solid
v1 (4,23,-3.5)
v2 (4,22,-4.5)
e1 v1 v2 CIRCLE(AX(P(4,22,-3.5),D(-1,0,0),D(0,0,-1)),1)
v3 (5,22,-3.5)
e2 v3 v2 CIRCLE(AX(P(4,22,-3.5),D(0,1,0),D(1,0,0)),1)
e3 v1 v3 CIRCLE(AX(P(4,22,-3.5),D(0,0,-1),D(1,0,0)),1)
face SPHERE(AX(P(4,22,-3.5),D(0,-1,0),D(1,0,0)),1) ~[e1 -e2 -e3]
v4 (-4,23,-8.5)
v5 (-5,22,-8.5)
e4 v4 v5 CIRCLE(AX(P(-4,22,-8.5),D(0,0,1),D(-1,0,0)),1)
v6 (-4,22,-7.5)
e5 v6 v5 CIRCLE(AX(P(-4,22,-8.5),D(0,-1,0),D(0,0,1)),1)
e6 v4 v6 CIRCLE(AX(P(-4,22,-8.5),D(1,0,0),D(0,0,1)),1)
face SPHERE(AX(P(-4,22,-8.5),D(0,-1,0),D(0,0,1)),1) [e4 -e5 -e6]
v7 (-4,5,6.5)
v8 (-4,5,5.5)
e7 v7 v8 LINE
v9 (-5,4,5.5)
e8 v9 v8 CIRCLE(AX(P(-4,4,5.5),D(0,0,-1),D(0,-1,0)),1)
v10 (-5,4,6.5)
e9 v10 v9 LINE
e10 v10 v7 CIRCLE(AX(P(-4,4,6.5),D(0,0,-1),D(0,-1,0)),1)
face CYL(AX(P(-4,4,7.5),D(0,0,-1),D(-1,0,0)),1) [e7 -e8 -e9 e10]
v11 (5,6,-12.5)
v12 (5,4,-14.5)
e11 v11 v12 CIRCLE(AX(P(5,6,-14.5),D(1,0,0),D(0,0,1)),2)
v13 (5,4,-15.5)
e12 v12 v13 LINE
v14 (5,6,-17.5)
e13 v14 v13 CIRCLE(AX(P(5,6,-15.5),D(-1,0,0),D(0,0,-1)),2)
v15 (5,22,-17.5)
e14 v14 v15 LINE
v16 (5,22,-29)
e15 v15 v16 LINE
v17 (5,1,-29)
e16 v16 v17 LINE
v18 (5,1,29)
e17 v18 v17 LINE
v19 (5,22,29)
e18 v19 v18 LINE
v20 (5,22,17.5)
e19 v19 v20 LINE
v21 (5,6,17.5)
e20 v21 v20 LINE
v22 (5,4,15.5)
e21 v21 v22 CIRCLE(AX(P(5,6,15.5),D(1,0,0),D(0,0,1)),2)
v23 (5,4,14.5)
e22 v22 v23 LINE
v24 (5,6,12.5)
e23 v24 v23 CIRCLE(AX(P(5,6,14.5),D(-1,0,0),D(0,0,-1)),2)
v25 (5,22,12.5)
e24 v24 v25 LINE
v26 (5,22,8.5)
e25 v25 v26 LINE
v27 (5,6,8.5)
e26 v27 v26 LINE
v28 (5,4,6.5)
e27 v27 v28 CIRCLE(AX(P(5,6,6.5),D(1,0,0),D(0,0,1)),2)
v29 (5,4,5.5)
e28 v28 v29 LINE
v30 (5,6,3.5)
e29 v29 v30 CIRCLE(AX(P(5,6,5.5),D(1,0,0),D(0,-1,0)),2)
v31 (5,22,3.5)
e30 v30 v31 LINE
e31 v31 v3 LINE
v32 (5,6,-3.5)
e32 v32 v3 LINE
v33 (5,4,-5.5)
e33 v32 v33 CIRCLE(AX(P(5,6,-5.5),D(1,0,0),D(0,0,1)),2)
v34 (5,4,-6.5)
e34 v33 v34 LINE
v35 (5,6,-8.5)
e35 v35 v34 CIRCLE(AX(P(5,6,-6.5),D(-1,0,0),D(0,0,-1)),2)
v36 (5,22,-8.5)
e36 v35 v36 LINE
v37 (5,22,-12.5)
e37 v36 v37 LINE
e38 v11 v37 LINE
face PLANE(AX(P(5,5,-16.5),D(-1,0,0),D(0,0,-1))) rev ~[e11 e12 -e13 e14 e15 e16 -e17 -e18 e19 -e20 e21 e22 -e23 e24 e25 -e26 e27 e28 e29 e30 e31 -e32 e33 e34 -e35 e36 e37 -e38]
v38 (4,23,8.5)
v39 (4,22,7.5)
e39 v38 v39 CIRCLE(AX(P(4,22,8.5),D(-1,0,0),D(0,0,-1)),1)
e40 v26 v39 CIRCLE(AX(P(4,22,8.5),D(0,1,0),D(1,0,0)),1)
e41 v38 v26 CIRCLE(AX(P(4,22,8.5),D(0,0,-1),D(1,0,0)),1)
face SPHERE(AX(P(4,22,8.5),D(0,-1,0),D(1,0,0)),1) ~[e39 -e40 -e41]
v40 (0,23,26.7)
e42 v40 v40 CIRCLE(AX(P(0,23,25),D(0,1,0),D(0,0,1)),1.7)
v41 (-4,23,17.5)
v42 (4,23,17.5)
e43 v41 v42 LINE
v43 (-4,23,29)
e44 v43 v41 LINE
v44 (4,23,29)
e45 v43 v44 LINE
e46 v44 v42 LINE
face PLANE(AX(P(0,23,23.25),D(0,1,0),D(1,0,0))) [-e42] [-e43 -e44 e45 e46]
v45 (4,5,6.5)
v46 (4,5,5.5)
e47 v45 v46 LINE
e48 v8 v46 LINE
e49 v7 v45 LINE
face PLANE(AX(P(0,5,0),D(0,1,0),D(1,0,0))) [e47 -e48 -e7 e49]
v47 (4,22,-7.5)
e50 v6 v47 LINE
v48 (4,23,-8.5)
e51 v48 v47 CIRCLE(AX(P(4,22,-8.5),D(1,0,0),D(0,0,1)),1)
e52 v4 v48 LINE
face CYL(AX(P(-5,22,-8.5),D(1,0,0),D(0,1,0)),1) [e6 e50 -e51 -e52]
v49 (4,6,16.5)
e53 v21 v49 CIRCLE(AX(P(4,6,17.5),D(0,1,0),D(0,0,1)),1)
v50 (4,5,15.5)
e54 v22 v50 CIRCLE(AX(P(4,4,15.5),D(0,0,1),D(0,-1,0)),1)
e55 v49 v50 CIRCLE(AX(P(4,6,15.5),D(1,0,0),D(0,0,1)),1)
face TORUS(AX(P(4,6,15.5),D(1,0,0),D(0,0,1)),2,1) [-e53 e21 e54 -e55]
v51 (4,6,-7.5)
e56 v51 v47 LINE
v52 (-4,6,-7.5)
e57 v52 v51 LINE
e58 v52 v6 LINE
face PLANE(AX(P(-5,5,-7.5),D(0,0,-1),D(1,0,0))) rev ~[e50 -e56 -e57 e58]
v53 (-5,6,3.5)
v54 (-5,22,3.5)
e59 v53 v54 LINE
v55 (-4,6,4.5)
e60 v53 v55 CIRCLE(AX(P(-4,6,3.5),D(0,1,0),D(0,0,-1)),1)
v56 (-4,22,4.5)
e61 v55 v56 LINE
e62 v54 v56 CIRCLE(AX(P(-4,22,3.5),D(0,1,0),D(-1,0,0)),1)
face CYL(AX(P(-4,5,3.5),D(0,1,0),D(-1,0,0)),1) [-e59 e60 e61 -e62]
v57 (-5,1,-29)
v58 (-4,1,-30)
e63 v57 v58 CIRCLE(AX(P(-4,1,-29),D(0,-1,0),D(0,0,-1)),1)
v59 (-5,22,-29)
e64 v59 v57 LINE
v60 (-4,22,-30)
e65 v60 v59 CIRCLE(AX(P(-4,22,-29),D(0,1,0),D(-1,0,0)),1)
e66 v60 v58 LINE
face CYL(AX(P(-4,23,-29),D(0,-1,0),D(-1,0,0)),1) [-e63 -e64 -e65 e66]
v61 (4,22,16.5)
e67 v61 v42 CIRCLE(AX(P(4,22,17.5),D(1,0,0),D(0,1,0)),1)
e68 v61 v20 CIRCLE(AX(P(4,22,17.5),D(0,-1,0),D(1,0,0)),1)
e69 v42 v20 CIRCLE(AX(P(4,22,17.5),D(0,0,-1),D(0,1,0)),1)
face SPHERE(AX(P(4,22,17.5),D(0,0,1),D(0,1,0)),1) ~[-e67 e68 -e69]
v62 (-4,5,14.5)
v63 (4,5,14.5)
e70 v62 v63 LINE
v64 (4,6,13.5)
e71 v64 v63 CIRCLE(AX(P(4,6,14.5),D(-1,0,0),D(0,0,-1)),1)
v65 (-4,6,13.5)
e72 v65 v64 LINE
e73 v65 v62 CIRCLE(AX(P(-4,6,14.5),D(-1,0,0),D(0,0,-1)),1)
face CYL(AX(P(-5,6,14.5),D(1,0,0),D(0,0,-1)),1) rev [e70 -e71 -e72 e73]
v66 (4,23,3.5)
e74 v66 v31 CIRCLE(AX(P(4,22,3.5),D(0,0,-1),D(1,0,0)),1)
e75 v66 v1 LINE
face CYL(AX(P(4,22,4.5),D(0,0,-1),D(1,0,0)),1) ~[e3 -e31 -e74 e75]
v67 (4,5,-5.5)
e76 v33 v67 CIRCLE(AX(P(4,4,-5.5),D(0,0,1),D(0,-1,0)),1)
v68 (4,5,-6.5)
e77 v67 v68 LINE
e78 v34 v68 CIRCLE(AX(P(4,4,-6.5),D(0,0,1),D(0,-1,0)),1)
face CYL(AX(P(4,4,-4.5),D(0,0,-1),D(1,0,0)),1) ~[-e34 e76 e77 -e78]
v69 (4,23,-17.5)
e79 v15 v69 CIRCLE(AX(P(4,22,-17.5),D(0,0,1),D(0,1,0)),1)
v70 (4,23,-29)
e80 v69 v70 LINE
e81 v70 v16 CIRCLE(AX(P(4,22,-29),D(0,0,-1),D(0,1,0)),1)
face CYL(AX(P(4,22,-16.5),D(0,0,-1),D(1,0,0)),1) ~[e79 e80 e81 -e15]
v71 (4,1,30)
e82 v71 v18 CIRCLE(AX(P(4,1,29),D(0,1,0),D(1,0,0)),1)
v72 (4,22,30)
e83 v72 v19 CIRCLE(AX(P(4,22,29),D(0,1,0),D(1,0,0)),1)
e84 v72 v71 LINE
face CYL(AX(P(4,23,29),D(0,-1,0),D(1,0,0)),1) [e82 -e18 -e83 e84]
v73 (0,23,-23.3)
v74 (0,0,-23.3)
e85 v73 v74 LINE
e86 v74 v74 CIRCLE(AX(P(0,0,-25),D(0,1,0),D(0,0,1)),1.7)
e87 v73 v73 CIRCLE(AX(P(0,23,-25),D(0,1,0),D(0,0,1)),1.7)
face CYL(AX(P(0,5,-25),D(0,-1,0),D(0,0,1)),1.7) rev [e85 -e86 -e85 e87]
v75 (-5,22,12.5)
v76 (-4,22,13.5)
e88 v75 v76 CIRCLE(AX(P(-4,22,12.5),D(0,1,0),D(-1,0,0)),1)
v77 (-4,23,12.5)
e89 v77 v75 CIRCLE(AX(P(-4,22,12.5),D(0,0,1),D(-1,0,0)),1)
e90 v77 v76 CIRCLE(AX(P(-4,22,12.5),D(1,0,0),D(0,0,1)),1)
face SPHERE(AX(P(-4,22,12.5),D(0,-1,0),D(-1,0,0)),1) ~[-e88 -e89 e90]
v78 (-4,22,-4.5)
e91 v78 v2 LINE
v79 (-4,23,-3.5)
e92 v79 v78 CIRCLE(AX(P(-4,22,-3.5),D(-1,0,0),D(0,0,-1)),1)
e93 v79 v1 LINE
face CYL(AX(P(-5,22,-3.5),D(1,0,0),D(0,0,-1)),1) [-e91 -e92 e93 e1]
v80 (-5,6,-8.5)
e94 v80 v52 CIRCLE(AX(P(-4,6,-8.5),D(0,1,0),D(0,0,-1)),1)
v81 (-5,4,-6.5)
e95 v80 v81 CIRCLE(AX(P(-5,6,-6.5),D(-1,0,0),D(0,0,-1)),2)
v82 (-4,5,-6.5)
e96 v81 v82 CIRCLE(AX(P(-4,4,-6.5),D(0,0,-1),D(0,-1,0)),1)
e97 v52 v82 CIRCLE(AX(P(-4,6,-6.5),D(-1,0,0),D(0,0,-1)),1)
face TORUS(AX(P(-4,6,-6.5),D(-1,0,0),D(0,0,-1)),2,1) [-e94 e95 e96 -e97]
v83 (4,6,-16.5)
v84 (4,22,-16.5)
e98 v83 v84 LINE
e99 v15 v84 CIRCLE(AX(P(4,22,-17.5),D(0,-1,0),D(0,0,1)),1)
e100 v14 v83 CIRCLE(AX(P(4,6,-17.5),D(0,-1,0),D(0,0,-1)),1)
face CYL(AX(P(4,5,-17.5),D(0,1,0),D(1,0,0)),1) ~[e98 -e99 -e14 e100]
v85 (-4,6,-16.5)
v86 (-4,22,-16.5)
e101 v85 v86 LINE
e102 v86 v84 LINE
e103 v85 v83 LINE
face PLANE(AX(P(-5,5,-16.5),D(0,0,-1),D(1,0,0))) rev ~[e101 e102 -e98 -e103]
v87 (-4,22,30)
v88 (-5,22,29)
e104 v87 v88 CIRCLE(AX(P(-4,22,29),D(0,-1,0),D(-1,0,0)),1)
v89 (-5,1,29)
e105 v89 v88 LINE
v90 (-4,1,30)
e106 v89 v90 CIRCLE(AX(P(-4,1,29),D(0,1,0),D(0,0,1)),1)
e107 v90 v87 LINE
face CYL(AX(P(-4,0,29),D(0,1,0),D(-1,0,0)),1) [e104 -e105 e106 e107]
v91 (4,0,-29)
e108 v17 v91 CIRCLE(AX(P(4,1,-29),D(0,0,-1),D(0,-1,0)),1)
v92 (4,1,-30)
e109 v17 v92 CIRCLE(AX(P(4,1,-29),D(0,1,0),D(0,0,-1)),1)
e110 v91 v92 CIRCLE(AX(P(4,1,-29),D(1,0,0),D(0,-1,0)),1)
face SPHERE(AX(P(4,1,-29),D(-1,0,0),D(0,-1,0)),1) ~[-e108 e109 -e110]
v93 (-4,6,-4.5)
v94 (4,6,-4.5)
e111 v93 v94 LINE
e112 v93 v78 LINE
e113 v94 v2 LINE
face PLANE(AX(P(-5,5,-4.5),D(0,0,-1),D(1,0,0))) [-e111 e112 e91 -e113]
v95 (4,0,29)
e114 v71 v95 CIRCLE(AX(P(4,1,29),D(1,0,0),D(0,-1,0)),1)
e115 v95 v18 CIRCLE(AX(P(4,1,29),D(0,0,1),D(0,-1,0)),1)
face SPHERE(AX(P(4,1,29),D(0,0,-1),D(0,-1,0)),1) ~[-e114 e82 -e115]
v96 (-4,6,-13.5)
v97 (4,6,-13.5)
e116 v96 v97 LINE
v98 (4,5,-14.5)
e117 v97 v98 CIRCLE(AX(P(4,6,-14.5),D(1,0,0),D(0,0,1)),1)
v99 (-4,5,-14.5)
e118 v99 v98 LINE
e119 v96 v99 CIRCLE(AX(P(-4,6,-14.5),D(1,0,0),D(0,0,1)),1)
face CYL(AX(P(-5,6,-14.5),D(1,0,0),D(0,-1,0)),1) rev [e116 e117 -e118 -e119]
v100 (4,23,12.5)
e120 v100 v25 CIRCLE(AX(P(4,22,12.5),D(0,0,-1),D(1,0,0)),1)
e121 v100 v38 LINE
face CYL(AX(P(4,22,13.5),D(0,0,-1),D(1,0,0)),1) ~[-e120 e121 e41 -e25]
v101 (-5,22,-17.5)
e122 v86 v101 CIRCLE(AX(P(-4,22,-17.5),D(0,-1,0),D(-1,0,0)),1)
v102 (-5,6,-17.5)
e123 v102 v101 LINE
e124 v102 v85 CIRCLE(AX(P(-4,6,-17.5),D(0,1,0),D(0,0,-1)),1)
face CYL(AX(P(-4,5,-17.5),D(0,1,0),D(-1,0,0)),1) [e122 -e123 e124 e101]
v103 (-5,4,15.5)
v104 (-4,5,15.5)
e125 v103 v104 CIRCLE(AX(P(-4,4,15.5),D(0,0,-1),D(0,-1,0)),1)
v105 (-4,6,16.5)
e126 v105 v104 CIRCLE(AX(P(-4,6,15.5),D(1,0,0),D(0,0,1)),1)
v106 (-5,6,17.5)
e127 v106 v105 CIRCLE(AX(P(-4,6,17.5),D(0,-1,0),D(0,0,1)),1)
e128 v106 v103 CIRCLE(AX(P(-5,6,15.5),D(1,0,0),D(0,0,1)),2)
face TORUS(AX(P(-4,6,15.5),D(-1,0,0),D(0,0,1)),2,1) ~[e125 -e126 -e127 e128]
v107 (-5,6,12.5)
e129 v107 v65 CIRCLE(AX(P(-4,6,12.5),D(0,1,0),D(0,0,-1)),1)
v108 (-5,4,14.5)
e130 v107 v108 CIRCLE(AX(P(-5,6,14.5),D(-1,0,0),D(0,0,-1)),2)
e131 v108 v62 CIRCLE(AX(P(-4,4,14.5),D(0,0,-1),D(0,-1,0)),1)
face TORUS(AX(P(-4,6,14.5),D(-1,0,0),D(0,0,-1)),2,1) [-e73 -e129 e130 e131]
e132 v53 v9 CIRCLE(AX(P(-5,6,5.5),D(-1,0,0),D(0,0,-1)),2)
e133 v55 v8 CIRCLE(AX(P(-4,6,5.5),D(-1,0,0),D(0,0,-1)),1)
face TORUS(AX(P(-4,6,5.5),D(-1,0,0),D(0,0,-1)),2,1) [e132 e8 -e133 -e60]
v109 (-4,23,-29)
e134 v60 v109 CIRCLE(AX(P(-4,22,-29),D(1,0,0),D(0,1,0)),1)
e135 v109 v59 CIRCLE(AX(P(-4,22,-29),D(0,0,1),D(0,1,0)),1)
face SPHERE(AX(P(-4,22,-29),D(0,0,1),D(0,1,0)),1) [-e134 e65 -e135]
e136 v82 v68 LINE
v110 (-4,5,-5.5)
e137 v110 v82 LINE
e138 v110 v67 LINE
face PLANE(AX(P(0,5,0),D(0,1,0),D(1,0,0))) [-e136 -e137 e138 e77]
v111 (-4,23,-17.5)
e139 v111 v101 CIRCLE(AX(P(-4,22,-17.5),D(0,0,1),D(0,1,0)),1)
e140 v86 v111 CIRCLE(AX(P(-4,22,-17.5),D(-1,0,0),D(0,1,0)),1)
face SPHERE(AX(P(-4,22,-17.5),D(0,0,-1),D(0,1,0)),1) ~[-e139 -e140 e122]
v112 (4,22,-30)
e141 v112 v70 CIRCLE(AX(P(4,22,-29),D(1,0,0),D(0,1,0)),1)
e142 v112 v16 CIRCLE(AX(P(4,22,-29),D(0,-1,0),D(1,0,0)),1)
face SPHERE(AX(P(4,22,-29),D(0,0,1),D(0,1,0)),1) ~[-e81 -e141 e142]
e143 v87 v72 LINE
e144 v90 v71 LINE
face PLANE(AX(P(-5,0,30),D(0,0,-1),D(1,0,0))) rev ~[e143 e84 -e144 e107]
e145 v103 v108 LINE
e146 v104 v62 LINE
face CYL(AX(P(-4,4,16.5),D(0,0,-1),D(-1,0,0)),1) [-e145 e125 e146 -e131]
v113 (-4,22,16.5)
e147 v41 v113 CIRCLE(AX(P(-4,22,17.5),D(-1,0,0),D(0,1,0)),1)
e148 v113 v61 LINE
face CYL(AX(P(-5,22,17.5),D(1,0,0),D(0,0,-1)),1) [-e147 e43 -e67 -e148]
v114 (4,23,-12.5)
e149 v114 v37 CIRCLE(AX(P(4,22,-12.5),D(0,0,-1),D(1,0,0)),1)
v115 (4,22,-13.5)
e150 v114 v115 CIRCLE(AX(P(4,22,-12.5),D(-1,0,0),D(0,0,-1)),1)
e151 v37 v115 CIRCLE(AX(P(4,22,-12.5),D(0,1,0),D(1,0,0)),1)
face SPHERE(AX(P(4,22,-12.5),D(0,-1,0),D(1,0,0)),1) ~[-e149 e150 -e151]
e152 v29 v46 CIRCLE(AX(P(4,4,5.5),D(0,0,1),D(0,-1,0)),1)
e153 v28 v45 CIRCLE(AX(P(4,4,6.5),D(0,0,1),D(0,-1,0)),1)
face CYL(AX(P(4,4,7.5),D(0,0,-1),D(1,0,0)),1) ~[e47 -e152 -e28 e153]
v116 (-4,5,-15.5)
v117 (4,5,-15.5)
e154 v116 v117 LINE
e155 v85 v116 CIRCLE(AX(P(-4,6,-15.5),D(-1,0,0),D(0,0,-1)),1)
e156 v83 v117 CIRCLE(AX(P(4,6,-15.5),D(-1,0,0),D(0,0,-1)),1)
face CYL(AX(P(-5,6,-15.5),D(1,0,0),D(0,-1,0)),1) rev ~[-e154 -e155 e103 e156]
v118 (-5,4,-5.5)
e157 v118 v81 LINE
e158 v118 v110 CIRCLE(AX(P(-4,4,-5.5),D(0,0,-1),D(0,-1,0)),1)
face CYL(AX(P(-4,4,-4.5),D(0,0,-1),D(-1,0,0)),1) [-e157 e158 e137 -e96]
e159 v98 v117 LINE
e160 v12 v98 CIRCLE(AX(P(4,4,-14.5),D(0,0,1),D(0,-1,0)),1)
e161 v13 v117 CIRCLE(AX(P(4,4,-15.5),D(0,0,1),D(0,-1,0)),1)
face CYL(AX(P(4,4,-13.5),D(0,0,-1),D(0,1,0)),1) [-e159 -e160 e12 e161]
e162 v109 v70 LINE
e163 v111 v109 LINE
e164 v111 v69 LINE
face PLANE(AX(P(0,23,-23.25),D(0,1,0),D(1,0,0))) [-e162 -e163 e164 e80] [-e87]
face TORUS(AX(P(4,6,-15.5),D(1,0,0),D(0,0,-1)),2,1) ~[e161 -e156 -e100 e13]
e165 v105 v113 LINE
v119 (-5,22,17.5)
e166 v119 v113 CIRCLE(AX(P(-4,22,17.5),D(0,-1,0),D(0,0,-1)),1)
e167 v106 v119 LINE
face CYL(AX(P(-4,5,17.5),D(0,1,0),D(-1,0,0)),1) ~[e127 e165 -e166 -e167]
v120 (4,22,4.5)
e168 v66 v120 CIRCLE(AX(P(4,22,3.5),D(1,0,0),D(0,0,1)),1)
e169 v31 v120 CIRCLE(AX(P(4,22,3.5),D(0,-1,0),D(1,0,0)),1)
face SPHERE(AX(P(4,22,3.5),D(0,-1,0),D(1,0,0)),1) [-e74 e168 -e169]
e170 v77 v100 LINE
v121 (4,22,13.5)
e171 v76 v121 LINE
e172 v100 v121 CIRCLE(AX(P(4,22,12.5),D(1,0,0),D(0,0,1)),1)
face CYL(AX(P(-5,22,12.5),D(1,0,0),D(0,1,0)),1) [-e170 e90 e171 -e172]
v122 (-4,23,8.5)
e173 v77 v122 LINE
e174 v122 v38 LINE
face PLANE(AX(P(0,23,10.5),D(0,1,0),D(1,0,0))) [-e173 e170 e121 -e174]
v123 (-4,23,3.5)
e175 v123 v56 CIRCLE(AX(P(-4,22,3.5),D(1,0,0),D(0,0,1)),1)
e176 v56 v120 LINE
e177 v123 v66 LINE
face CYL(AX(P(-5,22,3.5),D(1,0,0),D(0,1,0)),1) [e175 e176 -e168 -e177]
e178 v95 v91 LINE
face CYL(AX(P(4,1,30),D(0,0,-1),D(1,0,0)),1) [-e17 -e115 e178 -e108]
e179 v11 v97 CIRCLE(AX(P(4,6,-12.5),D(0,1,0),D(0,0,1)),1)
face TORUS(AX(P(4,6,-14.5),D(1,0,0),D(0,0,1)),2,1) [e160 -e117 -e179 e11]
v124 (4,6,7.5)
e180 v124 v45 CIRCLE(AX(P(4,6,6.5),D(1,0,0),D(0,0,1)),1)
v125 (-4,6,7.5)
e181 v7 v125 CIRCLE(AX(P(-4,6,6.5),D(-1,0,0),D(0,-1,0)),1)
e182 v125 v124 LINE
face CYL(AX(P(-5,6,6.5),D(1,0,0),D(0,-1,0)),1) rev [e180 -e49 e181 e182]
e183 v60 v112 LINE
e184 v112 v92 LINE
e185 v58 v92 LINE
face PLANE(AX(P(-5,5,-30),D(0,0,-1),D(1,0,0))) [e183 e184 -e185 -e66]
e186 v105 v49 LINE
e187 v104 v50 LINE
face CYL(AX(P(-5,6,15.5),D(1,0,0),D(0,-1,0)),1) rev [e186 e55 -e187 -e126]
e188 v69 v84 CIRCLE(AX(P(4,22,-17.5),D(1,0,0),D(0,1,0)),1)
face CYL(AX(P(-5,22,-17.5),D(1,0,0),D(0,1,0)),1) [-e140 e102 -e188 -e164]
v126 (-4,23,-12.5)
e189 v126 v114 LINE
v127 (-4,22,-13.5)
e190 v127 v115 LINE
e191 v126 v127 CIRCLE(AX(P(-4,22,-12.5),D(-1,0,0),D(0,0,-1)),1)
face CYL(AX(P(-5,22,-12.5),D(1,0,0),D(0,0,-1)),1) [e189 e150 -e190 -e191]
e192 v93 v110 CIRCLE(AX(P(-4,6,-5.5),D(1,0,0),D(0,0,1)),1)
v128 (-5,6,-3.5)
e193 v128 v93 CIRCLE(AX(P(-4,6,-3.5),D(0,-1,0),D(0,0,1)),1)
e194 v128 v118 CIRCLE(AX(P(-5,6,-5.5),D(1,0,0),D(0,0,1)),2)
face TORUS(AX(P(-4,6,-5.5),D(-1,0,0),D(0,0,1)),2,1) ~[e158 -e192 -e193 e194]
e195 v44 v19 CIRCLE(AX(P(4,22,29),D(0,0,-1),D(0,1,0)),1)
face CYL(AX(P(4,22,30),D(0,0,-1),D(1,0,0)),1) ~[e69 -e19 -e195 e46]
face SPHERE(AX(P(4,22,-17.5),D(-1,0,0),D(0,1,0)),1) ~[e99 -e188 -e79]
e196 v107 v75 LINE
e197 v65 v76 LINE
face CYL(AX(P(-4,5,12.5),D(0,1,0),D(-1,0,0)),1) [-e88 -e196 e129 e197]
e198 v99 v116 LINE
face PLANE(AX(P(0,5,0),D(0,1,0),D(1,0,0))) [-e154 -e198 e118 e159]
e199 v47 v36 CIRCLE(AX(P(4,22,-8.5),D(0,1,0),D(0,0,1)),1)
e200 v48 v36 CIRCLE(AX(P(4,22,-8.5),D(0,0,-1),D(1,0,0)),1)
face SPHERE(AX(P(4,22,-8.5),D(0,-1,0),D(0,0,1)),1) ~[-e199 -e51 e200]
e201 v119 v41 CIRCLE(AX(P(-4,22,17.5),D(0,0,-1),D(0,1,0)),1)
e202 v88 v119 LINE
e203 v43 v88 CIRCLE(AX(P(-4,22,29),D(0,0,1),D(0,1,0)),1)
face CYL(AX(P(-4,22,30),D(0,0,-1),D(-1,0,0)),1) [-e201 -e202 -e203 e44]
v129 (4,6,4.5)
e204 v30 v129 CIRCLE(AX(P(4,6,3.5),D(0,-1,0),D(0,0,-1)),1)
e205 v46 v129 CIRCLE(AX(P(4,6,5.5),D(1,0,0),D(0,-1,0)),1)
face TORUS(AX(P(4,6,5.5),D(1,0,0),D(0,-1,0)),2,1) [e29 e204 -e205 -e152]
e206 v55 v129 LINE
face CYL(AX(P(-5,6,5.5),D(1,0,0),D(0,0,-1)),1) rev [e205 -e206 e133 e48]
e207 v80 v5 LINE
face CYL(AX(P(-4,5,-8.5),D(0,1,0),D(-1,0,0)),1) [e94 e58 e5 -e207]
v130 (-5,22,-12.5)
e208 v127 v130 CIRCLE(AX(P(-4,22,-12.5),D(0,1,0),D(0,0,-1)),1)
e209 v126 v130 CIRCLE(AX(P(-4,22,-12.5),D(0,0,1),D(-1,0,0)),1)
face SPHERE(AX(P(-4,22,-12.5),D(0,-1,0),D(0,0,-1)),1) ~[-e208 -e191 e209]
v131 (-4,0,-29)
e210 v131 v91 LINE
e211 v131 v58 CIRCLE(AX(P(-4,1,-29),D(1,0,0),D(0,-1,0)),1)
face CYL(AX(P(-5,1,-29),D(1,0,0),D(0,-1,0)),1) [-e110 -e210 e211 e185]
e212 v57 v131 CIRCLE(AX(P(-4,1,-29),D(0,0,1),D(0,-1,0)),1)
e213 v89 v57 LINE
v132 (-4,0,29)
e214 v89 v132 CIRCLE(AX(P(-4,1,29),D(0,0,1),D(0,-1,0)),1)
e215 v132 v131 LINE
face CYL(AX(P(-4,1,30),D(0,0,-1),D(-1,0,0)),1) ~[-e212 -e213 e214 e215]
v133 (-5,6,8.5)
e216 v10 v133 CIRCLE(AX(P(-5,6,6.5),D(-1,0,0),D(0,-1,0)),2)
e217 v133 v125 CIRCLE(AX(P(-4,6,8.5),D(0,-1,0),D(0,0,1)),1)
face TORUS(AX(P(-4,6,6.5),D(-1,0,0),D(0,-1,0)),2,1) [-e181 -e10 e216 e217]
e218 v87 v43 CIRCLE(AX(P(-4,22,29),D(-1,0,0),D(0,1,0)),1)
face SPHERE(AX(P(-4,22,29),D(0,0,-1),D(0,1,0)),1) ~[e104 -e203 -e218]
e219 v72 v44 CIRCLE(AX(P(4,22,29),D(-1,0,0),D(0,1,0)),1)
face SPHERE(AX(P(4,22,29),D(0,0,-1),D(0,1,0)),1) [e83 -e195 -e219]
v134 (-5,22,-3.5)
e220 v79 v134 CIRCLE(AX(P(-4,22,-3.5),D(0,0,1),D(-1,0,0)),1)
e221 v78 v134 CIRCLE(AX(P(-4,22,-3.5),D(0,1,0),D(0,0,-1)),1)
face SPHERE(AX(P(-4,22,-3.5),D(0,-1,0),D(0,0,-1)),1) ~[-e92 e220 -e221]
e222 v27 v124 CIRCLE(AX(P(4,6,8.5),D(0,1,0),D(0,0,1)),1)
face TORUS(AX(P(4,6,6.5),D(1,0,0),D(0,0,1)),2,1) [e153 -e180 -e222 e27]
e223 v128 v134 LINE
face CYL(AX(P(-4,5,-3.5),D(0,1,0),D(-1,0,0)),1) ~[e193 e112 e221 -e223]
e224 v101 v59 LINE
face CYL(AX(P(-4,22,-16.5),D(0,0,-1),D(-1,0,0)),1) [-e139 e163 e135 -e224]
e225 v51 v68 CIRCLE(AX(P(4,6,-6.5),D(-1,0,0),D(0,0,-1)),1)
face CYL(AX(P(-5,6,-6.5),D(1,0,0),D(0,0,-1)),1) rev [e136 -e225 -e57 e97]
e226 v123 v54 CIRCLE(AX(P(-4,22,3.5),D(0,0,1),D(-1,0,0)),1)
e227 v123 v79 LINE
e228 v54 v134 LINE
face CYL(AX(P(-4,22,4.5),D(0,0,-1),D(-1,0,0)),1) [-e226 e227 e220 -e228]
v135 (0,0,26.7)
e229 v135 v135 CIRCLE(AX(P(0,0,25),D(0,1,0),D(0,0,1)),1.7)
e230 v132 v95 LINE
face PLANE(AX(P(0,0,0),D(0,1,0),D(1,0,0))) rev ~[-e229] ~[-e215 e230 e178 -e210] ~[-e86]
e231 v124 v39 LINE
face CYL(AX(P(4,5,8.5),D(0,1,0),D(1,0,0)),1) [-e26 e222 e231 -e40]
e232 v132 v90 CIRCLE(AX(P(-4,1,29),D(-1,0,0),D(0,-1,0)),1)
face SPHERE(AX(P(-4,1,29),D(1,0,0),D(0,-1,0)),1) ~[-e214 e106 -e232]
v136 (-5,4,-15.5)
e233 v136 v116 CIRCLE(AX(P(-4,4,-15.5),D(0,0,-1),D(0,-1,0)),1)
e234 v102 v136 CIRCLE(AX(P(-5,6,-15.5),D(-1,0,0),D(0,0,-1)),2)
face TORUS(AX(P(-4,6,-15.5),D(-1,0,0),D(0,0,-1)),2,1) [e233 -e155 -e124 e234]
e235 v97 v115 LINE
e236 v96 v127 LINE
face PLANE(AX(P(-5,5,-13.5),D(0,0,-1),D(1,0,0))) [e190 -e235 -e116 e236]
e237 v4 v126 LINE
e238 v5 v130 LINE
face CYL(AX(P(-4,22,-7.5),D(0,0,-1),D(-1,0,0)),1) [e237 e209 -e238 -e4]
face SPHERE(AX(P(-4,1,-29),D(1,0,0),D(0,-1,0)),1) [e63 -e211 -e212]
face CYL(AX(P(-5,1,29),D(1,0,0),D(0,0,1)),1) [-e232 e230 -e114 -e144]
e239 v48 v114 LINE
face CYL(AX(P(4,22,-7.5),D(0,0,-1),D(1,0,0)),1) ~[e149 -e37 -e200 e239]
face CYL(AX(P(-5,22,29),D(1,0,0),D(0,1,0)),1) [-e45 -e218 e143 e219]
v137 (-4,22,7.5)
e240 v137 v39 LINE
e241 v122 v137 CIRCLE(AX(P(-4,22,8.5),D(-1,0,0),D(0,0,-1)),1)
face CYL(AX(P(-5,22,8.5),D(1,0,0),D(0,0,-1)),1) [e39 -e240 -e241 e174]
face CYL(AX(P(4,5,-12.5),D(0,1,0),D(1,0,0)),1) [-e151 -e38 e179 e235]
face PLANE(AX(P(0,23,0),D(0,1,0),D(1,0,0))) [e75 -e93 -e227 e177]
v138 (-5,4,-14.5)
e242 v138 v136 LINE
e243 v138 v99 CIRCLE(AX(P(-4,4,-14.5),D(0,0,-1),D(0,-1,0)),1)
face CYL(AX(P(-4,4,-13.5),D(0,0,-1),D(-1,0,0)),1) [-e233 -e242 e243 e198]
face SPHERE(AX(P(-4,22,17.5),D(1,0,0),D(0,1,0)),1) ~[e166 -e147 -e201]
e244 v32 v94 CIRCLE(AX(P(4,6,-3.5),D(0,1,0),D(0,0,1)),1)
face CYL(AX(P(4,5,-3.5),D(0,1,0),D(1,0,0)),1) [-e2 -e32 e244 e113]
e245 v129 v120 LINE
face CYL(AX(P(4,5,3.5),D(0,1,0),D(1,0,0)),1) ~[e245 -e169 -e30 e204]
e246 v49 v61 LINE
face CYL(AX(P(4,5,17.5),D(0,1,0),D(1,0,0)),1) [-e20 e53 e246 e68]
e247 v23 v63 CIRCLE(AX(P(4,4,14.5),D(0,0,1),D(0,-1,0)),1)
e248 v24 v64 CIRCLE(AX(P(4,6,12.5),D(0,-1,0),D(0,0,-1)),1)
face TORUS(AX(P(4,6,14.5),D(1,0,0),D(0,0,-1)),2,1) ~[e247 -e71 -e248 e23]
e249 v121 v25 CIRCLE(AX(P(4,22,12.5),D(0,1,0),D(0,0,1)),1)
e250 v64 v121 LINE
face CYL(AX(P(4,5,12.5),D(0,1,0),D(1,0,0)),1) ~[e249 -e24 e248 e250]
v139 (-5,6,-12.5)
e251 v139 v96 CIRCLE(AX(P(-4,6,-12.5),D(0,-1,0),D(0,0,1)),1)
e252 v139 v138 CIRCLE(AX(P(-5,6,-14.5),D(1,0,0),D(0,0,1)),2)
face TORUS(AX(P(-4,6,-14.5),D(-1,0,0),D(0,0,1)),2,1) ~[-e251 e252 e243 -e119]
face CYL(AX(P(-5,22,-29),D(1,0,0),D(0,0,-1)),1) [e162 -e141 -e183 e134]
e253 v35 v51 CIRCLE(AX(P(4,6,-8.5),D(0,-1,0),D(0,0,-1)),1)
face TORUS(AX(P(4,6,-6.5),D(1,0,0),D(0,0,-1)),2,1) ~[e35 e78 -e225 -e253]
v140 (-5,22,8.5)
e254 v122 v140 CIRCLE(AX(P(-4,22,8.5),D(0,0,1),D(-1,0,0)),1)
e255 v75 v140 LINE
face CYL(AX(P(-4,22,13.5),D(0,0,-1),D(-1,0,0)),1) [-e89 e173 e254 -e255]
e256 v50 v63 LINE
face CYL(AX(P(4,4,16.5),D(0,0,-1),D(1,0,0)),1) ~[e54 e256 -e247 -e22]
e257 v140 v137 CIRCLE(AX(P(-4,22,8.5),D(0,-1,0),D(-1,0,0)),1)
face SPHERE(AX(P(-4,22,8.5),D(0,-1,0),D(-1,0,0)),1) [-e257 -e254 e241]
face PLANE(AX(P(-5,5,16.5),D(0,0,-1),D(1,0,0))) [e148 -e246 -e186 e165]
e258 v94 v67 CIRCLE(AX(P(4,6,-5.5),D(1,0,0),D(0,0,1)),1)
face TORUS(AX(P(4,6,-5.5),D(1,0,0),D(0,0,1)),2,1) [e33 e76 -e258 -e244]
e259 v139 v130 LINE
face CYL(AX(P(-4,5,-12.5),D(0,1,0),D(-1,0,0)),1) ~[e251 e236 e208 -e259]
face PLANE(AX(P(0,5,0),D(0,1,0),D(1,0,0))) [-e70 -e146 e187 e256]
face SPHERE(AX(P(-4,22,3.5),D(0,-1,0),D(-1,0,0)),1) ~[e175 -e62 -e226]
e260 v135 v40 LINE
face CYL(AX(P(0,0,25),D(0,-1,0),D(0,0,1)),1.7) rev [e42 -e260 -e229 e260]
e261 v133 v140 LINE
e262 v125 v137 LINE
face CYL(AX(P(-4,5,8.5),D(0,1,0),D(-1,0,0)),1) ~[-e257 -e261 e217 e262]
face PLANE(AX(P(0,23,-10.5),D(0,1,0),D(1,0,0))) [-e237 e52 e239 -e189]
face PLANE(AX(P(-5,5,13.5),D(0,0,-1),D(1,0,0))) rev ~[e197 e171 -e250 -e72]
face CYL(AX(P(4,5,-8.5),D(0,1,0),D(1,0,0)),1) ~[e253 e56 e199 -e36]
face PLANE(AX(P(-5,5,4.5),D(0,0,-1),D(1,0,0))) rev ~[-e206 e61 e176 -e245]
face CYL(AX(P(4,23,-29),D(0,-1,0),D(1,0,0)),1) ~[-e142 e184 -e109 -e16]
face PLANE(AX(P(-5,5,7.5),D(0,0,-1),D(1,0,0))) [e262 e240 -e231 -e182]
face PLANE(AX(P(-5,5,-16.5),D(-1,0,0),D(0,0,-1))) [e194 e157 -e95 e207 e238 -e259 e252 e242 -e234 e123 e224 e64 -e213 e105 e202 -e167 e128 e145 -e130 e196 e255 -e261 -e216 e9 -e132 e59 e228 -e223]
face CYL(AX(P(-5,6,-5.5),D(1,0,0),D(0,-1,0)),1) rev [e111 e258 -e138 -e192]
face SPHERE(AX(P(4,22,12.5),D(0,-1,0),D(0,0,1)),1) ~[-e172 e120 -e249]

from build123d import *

# Parameters (mm, degrees)
SKETCH1_W           = 10
SKETCH1_H           = 60
SKETCH1_R           = 1.7
BOSS_EXTRUDE1_DEPTH = 5
SKETCH2_W           = 10
SKETCH2_H           = 6
SKETCH2_H_2         = 9
SKETCH2_H_3         = 13.5
SKETCH2_R           = 1.7
BOSS_EXTRUDE2_DEPTH = 18
FILLET1_R           = 1


with BuildPart() as part:
    # Sketch1 → Boss-Extrude1 (new body)
    with BuildSketch(Plane(origin=(0, 0, 0), x_dir=(1, 0, 0), z_dir=(0, 1, 0))):
        Rectangle(SKETCH1_W, SKETCH1_H)
        with Locations(Location((0, 25, 0), (0, 0, 270))):
            Circle(SKETCH1_R, mode=Mode.SUBTRACT)
        with Locations(Location((0, -25, 0), (0, 0, 270))):
            Circle(SKETCH1_R, mode=Mode.SUBTRACT)
    extrude(amount=BOSS_EXTRUDE1_DEPTH)

    # Sketch2 → Boss-Extrude2 (add)
    # profile 1 of 5: a face of its own
    with BuildSketch(Plane(origin=(0, 5, 0), x_dir=(1, 0, 0), z_dir=(0, 1, 0))):
        with Locations((0, 10.5)):
            Rectangle(SKETCH2_W, SKETCH2_H)
    # profile 2 of 5: a face of its own
    with BuildSketch(Plane(origin=(0, 5, 0), x_dir=(1, 0, 0), z_dir=(0, 1, 0))):
        Rectangle(SKETCH2_W, SKETCH2_H_2)
    # profile 3 of 5: a face of its own
    with BuildSketch(Plane(origin=(0, 5, 0), x_dir=(1, 0, 0), z_dir=(0, 1, 0))):
        with Locations((0, 23.25)):
            Rectangle(SKETCH2_W, SKETCH2_H_3)
        with Locations(Location((0, 25, 0), (0, 0, 270))):
            Circle(SKETCH2_R, mode=Mode.SUBTRACT)
    # profile 4 of 5: a face of its own
    with BuildSketch(Plane(origin=(0, 5, 0), x_dir=(1, 0, 0), z_dir=(0, 1, 0))):
        with Locations((0, -23.25)):
            Rectangle(SKETCH2_W, SKETCH2_H_3)
        with Locations(Location((0, -25, 0), (0, 0, 270))):
            Circle(SKETCH2_R, mode=Mode.SUBTRACT)
    # profile 5 of 5: a face of its own
    with BuildSketch(Plane(origin=(0, 5, 0), x_dir=(1, 0, 0), z_dir=(0, 1, 0))):
        with Locations((0, -10.5)):
            Rectangle(SKETCH2_W, SKETCH2_H)
    extrude(amount=BOSS_EXTRUDE2_DEPTH)

    # Fillet1
    fillet1_edges = [part.edges().sort_by_distance(p)[0] for p in [
        (-5, 5, 6),
        (5, 5, -6),
        (5, 14, 4.5),
        (0, 5, -4.5),
        (5, 14, -4.5),
        (-5, 14, -4.5),
        (0, 5, 4.5),
        (-5, 14, 4.5),
        (5, 23, 0),
        (0, 23, -4.5),
        (-5, 23, 0),
        (0, 23, 4.5),
        (-5, 5, -15),
        (-5, 23, -23.25),
        (0, 23, -16.5),
        (5, 23, -23.25),
        (0, 23, -30),
        (0, 5, -16.5),
        (-5, 14, -16.5),
        (5, 14, -16.5),
        (5, 5, -15),
        (-5, 5, -6),
        (0, 5, -7.5),
        (0, 0, -30),
        (-5, 14, -7.5),
        (5, 14, -7.5),
        (0, 5, -13.5),
        (5, 14, -13.5),
        (-5, 14, -13.5),
        (0, 23, -7.5),
        (5, 23, -10.5),
        (0, 23, -13.5),
        (-5, 23, -10.5),
        (5, 0, 0),
        (0, 0, 30),
        (5, 5, 15),
        (5, 23, 23.25),
        (0, 23, 16.5),
        (-5, 23, 23.25),
        (0, 23, 30),
        (0, 5, 16.5),
        (-5, 0, 0),
        (5, 14, 16.5),
        (-5, 14, 16.5),
        (5, 5, 6),
        (-5, 5, 15),
        (-5, 14, 7.5),
        (0, 5, 13.5),
        (-5, 14, 13.5),
        (5, 14, 13.5),
        (0, 5, 7.5),
        (5, 14, 7.5),
        (-5, 23, 10.5),
        (0, 23, 13.5),
        (5, 23, 10.5),
        (0, 23, 7.5),
        (-5, 11.5, -30),
        (5, 11.5, -30),
        (5, 11.5, 30),
        (-5, 11.5, 30),
    ]]
    fillet(fillet1_edges, radius=FILLET1_R)


solid = part.part
